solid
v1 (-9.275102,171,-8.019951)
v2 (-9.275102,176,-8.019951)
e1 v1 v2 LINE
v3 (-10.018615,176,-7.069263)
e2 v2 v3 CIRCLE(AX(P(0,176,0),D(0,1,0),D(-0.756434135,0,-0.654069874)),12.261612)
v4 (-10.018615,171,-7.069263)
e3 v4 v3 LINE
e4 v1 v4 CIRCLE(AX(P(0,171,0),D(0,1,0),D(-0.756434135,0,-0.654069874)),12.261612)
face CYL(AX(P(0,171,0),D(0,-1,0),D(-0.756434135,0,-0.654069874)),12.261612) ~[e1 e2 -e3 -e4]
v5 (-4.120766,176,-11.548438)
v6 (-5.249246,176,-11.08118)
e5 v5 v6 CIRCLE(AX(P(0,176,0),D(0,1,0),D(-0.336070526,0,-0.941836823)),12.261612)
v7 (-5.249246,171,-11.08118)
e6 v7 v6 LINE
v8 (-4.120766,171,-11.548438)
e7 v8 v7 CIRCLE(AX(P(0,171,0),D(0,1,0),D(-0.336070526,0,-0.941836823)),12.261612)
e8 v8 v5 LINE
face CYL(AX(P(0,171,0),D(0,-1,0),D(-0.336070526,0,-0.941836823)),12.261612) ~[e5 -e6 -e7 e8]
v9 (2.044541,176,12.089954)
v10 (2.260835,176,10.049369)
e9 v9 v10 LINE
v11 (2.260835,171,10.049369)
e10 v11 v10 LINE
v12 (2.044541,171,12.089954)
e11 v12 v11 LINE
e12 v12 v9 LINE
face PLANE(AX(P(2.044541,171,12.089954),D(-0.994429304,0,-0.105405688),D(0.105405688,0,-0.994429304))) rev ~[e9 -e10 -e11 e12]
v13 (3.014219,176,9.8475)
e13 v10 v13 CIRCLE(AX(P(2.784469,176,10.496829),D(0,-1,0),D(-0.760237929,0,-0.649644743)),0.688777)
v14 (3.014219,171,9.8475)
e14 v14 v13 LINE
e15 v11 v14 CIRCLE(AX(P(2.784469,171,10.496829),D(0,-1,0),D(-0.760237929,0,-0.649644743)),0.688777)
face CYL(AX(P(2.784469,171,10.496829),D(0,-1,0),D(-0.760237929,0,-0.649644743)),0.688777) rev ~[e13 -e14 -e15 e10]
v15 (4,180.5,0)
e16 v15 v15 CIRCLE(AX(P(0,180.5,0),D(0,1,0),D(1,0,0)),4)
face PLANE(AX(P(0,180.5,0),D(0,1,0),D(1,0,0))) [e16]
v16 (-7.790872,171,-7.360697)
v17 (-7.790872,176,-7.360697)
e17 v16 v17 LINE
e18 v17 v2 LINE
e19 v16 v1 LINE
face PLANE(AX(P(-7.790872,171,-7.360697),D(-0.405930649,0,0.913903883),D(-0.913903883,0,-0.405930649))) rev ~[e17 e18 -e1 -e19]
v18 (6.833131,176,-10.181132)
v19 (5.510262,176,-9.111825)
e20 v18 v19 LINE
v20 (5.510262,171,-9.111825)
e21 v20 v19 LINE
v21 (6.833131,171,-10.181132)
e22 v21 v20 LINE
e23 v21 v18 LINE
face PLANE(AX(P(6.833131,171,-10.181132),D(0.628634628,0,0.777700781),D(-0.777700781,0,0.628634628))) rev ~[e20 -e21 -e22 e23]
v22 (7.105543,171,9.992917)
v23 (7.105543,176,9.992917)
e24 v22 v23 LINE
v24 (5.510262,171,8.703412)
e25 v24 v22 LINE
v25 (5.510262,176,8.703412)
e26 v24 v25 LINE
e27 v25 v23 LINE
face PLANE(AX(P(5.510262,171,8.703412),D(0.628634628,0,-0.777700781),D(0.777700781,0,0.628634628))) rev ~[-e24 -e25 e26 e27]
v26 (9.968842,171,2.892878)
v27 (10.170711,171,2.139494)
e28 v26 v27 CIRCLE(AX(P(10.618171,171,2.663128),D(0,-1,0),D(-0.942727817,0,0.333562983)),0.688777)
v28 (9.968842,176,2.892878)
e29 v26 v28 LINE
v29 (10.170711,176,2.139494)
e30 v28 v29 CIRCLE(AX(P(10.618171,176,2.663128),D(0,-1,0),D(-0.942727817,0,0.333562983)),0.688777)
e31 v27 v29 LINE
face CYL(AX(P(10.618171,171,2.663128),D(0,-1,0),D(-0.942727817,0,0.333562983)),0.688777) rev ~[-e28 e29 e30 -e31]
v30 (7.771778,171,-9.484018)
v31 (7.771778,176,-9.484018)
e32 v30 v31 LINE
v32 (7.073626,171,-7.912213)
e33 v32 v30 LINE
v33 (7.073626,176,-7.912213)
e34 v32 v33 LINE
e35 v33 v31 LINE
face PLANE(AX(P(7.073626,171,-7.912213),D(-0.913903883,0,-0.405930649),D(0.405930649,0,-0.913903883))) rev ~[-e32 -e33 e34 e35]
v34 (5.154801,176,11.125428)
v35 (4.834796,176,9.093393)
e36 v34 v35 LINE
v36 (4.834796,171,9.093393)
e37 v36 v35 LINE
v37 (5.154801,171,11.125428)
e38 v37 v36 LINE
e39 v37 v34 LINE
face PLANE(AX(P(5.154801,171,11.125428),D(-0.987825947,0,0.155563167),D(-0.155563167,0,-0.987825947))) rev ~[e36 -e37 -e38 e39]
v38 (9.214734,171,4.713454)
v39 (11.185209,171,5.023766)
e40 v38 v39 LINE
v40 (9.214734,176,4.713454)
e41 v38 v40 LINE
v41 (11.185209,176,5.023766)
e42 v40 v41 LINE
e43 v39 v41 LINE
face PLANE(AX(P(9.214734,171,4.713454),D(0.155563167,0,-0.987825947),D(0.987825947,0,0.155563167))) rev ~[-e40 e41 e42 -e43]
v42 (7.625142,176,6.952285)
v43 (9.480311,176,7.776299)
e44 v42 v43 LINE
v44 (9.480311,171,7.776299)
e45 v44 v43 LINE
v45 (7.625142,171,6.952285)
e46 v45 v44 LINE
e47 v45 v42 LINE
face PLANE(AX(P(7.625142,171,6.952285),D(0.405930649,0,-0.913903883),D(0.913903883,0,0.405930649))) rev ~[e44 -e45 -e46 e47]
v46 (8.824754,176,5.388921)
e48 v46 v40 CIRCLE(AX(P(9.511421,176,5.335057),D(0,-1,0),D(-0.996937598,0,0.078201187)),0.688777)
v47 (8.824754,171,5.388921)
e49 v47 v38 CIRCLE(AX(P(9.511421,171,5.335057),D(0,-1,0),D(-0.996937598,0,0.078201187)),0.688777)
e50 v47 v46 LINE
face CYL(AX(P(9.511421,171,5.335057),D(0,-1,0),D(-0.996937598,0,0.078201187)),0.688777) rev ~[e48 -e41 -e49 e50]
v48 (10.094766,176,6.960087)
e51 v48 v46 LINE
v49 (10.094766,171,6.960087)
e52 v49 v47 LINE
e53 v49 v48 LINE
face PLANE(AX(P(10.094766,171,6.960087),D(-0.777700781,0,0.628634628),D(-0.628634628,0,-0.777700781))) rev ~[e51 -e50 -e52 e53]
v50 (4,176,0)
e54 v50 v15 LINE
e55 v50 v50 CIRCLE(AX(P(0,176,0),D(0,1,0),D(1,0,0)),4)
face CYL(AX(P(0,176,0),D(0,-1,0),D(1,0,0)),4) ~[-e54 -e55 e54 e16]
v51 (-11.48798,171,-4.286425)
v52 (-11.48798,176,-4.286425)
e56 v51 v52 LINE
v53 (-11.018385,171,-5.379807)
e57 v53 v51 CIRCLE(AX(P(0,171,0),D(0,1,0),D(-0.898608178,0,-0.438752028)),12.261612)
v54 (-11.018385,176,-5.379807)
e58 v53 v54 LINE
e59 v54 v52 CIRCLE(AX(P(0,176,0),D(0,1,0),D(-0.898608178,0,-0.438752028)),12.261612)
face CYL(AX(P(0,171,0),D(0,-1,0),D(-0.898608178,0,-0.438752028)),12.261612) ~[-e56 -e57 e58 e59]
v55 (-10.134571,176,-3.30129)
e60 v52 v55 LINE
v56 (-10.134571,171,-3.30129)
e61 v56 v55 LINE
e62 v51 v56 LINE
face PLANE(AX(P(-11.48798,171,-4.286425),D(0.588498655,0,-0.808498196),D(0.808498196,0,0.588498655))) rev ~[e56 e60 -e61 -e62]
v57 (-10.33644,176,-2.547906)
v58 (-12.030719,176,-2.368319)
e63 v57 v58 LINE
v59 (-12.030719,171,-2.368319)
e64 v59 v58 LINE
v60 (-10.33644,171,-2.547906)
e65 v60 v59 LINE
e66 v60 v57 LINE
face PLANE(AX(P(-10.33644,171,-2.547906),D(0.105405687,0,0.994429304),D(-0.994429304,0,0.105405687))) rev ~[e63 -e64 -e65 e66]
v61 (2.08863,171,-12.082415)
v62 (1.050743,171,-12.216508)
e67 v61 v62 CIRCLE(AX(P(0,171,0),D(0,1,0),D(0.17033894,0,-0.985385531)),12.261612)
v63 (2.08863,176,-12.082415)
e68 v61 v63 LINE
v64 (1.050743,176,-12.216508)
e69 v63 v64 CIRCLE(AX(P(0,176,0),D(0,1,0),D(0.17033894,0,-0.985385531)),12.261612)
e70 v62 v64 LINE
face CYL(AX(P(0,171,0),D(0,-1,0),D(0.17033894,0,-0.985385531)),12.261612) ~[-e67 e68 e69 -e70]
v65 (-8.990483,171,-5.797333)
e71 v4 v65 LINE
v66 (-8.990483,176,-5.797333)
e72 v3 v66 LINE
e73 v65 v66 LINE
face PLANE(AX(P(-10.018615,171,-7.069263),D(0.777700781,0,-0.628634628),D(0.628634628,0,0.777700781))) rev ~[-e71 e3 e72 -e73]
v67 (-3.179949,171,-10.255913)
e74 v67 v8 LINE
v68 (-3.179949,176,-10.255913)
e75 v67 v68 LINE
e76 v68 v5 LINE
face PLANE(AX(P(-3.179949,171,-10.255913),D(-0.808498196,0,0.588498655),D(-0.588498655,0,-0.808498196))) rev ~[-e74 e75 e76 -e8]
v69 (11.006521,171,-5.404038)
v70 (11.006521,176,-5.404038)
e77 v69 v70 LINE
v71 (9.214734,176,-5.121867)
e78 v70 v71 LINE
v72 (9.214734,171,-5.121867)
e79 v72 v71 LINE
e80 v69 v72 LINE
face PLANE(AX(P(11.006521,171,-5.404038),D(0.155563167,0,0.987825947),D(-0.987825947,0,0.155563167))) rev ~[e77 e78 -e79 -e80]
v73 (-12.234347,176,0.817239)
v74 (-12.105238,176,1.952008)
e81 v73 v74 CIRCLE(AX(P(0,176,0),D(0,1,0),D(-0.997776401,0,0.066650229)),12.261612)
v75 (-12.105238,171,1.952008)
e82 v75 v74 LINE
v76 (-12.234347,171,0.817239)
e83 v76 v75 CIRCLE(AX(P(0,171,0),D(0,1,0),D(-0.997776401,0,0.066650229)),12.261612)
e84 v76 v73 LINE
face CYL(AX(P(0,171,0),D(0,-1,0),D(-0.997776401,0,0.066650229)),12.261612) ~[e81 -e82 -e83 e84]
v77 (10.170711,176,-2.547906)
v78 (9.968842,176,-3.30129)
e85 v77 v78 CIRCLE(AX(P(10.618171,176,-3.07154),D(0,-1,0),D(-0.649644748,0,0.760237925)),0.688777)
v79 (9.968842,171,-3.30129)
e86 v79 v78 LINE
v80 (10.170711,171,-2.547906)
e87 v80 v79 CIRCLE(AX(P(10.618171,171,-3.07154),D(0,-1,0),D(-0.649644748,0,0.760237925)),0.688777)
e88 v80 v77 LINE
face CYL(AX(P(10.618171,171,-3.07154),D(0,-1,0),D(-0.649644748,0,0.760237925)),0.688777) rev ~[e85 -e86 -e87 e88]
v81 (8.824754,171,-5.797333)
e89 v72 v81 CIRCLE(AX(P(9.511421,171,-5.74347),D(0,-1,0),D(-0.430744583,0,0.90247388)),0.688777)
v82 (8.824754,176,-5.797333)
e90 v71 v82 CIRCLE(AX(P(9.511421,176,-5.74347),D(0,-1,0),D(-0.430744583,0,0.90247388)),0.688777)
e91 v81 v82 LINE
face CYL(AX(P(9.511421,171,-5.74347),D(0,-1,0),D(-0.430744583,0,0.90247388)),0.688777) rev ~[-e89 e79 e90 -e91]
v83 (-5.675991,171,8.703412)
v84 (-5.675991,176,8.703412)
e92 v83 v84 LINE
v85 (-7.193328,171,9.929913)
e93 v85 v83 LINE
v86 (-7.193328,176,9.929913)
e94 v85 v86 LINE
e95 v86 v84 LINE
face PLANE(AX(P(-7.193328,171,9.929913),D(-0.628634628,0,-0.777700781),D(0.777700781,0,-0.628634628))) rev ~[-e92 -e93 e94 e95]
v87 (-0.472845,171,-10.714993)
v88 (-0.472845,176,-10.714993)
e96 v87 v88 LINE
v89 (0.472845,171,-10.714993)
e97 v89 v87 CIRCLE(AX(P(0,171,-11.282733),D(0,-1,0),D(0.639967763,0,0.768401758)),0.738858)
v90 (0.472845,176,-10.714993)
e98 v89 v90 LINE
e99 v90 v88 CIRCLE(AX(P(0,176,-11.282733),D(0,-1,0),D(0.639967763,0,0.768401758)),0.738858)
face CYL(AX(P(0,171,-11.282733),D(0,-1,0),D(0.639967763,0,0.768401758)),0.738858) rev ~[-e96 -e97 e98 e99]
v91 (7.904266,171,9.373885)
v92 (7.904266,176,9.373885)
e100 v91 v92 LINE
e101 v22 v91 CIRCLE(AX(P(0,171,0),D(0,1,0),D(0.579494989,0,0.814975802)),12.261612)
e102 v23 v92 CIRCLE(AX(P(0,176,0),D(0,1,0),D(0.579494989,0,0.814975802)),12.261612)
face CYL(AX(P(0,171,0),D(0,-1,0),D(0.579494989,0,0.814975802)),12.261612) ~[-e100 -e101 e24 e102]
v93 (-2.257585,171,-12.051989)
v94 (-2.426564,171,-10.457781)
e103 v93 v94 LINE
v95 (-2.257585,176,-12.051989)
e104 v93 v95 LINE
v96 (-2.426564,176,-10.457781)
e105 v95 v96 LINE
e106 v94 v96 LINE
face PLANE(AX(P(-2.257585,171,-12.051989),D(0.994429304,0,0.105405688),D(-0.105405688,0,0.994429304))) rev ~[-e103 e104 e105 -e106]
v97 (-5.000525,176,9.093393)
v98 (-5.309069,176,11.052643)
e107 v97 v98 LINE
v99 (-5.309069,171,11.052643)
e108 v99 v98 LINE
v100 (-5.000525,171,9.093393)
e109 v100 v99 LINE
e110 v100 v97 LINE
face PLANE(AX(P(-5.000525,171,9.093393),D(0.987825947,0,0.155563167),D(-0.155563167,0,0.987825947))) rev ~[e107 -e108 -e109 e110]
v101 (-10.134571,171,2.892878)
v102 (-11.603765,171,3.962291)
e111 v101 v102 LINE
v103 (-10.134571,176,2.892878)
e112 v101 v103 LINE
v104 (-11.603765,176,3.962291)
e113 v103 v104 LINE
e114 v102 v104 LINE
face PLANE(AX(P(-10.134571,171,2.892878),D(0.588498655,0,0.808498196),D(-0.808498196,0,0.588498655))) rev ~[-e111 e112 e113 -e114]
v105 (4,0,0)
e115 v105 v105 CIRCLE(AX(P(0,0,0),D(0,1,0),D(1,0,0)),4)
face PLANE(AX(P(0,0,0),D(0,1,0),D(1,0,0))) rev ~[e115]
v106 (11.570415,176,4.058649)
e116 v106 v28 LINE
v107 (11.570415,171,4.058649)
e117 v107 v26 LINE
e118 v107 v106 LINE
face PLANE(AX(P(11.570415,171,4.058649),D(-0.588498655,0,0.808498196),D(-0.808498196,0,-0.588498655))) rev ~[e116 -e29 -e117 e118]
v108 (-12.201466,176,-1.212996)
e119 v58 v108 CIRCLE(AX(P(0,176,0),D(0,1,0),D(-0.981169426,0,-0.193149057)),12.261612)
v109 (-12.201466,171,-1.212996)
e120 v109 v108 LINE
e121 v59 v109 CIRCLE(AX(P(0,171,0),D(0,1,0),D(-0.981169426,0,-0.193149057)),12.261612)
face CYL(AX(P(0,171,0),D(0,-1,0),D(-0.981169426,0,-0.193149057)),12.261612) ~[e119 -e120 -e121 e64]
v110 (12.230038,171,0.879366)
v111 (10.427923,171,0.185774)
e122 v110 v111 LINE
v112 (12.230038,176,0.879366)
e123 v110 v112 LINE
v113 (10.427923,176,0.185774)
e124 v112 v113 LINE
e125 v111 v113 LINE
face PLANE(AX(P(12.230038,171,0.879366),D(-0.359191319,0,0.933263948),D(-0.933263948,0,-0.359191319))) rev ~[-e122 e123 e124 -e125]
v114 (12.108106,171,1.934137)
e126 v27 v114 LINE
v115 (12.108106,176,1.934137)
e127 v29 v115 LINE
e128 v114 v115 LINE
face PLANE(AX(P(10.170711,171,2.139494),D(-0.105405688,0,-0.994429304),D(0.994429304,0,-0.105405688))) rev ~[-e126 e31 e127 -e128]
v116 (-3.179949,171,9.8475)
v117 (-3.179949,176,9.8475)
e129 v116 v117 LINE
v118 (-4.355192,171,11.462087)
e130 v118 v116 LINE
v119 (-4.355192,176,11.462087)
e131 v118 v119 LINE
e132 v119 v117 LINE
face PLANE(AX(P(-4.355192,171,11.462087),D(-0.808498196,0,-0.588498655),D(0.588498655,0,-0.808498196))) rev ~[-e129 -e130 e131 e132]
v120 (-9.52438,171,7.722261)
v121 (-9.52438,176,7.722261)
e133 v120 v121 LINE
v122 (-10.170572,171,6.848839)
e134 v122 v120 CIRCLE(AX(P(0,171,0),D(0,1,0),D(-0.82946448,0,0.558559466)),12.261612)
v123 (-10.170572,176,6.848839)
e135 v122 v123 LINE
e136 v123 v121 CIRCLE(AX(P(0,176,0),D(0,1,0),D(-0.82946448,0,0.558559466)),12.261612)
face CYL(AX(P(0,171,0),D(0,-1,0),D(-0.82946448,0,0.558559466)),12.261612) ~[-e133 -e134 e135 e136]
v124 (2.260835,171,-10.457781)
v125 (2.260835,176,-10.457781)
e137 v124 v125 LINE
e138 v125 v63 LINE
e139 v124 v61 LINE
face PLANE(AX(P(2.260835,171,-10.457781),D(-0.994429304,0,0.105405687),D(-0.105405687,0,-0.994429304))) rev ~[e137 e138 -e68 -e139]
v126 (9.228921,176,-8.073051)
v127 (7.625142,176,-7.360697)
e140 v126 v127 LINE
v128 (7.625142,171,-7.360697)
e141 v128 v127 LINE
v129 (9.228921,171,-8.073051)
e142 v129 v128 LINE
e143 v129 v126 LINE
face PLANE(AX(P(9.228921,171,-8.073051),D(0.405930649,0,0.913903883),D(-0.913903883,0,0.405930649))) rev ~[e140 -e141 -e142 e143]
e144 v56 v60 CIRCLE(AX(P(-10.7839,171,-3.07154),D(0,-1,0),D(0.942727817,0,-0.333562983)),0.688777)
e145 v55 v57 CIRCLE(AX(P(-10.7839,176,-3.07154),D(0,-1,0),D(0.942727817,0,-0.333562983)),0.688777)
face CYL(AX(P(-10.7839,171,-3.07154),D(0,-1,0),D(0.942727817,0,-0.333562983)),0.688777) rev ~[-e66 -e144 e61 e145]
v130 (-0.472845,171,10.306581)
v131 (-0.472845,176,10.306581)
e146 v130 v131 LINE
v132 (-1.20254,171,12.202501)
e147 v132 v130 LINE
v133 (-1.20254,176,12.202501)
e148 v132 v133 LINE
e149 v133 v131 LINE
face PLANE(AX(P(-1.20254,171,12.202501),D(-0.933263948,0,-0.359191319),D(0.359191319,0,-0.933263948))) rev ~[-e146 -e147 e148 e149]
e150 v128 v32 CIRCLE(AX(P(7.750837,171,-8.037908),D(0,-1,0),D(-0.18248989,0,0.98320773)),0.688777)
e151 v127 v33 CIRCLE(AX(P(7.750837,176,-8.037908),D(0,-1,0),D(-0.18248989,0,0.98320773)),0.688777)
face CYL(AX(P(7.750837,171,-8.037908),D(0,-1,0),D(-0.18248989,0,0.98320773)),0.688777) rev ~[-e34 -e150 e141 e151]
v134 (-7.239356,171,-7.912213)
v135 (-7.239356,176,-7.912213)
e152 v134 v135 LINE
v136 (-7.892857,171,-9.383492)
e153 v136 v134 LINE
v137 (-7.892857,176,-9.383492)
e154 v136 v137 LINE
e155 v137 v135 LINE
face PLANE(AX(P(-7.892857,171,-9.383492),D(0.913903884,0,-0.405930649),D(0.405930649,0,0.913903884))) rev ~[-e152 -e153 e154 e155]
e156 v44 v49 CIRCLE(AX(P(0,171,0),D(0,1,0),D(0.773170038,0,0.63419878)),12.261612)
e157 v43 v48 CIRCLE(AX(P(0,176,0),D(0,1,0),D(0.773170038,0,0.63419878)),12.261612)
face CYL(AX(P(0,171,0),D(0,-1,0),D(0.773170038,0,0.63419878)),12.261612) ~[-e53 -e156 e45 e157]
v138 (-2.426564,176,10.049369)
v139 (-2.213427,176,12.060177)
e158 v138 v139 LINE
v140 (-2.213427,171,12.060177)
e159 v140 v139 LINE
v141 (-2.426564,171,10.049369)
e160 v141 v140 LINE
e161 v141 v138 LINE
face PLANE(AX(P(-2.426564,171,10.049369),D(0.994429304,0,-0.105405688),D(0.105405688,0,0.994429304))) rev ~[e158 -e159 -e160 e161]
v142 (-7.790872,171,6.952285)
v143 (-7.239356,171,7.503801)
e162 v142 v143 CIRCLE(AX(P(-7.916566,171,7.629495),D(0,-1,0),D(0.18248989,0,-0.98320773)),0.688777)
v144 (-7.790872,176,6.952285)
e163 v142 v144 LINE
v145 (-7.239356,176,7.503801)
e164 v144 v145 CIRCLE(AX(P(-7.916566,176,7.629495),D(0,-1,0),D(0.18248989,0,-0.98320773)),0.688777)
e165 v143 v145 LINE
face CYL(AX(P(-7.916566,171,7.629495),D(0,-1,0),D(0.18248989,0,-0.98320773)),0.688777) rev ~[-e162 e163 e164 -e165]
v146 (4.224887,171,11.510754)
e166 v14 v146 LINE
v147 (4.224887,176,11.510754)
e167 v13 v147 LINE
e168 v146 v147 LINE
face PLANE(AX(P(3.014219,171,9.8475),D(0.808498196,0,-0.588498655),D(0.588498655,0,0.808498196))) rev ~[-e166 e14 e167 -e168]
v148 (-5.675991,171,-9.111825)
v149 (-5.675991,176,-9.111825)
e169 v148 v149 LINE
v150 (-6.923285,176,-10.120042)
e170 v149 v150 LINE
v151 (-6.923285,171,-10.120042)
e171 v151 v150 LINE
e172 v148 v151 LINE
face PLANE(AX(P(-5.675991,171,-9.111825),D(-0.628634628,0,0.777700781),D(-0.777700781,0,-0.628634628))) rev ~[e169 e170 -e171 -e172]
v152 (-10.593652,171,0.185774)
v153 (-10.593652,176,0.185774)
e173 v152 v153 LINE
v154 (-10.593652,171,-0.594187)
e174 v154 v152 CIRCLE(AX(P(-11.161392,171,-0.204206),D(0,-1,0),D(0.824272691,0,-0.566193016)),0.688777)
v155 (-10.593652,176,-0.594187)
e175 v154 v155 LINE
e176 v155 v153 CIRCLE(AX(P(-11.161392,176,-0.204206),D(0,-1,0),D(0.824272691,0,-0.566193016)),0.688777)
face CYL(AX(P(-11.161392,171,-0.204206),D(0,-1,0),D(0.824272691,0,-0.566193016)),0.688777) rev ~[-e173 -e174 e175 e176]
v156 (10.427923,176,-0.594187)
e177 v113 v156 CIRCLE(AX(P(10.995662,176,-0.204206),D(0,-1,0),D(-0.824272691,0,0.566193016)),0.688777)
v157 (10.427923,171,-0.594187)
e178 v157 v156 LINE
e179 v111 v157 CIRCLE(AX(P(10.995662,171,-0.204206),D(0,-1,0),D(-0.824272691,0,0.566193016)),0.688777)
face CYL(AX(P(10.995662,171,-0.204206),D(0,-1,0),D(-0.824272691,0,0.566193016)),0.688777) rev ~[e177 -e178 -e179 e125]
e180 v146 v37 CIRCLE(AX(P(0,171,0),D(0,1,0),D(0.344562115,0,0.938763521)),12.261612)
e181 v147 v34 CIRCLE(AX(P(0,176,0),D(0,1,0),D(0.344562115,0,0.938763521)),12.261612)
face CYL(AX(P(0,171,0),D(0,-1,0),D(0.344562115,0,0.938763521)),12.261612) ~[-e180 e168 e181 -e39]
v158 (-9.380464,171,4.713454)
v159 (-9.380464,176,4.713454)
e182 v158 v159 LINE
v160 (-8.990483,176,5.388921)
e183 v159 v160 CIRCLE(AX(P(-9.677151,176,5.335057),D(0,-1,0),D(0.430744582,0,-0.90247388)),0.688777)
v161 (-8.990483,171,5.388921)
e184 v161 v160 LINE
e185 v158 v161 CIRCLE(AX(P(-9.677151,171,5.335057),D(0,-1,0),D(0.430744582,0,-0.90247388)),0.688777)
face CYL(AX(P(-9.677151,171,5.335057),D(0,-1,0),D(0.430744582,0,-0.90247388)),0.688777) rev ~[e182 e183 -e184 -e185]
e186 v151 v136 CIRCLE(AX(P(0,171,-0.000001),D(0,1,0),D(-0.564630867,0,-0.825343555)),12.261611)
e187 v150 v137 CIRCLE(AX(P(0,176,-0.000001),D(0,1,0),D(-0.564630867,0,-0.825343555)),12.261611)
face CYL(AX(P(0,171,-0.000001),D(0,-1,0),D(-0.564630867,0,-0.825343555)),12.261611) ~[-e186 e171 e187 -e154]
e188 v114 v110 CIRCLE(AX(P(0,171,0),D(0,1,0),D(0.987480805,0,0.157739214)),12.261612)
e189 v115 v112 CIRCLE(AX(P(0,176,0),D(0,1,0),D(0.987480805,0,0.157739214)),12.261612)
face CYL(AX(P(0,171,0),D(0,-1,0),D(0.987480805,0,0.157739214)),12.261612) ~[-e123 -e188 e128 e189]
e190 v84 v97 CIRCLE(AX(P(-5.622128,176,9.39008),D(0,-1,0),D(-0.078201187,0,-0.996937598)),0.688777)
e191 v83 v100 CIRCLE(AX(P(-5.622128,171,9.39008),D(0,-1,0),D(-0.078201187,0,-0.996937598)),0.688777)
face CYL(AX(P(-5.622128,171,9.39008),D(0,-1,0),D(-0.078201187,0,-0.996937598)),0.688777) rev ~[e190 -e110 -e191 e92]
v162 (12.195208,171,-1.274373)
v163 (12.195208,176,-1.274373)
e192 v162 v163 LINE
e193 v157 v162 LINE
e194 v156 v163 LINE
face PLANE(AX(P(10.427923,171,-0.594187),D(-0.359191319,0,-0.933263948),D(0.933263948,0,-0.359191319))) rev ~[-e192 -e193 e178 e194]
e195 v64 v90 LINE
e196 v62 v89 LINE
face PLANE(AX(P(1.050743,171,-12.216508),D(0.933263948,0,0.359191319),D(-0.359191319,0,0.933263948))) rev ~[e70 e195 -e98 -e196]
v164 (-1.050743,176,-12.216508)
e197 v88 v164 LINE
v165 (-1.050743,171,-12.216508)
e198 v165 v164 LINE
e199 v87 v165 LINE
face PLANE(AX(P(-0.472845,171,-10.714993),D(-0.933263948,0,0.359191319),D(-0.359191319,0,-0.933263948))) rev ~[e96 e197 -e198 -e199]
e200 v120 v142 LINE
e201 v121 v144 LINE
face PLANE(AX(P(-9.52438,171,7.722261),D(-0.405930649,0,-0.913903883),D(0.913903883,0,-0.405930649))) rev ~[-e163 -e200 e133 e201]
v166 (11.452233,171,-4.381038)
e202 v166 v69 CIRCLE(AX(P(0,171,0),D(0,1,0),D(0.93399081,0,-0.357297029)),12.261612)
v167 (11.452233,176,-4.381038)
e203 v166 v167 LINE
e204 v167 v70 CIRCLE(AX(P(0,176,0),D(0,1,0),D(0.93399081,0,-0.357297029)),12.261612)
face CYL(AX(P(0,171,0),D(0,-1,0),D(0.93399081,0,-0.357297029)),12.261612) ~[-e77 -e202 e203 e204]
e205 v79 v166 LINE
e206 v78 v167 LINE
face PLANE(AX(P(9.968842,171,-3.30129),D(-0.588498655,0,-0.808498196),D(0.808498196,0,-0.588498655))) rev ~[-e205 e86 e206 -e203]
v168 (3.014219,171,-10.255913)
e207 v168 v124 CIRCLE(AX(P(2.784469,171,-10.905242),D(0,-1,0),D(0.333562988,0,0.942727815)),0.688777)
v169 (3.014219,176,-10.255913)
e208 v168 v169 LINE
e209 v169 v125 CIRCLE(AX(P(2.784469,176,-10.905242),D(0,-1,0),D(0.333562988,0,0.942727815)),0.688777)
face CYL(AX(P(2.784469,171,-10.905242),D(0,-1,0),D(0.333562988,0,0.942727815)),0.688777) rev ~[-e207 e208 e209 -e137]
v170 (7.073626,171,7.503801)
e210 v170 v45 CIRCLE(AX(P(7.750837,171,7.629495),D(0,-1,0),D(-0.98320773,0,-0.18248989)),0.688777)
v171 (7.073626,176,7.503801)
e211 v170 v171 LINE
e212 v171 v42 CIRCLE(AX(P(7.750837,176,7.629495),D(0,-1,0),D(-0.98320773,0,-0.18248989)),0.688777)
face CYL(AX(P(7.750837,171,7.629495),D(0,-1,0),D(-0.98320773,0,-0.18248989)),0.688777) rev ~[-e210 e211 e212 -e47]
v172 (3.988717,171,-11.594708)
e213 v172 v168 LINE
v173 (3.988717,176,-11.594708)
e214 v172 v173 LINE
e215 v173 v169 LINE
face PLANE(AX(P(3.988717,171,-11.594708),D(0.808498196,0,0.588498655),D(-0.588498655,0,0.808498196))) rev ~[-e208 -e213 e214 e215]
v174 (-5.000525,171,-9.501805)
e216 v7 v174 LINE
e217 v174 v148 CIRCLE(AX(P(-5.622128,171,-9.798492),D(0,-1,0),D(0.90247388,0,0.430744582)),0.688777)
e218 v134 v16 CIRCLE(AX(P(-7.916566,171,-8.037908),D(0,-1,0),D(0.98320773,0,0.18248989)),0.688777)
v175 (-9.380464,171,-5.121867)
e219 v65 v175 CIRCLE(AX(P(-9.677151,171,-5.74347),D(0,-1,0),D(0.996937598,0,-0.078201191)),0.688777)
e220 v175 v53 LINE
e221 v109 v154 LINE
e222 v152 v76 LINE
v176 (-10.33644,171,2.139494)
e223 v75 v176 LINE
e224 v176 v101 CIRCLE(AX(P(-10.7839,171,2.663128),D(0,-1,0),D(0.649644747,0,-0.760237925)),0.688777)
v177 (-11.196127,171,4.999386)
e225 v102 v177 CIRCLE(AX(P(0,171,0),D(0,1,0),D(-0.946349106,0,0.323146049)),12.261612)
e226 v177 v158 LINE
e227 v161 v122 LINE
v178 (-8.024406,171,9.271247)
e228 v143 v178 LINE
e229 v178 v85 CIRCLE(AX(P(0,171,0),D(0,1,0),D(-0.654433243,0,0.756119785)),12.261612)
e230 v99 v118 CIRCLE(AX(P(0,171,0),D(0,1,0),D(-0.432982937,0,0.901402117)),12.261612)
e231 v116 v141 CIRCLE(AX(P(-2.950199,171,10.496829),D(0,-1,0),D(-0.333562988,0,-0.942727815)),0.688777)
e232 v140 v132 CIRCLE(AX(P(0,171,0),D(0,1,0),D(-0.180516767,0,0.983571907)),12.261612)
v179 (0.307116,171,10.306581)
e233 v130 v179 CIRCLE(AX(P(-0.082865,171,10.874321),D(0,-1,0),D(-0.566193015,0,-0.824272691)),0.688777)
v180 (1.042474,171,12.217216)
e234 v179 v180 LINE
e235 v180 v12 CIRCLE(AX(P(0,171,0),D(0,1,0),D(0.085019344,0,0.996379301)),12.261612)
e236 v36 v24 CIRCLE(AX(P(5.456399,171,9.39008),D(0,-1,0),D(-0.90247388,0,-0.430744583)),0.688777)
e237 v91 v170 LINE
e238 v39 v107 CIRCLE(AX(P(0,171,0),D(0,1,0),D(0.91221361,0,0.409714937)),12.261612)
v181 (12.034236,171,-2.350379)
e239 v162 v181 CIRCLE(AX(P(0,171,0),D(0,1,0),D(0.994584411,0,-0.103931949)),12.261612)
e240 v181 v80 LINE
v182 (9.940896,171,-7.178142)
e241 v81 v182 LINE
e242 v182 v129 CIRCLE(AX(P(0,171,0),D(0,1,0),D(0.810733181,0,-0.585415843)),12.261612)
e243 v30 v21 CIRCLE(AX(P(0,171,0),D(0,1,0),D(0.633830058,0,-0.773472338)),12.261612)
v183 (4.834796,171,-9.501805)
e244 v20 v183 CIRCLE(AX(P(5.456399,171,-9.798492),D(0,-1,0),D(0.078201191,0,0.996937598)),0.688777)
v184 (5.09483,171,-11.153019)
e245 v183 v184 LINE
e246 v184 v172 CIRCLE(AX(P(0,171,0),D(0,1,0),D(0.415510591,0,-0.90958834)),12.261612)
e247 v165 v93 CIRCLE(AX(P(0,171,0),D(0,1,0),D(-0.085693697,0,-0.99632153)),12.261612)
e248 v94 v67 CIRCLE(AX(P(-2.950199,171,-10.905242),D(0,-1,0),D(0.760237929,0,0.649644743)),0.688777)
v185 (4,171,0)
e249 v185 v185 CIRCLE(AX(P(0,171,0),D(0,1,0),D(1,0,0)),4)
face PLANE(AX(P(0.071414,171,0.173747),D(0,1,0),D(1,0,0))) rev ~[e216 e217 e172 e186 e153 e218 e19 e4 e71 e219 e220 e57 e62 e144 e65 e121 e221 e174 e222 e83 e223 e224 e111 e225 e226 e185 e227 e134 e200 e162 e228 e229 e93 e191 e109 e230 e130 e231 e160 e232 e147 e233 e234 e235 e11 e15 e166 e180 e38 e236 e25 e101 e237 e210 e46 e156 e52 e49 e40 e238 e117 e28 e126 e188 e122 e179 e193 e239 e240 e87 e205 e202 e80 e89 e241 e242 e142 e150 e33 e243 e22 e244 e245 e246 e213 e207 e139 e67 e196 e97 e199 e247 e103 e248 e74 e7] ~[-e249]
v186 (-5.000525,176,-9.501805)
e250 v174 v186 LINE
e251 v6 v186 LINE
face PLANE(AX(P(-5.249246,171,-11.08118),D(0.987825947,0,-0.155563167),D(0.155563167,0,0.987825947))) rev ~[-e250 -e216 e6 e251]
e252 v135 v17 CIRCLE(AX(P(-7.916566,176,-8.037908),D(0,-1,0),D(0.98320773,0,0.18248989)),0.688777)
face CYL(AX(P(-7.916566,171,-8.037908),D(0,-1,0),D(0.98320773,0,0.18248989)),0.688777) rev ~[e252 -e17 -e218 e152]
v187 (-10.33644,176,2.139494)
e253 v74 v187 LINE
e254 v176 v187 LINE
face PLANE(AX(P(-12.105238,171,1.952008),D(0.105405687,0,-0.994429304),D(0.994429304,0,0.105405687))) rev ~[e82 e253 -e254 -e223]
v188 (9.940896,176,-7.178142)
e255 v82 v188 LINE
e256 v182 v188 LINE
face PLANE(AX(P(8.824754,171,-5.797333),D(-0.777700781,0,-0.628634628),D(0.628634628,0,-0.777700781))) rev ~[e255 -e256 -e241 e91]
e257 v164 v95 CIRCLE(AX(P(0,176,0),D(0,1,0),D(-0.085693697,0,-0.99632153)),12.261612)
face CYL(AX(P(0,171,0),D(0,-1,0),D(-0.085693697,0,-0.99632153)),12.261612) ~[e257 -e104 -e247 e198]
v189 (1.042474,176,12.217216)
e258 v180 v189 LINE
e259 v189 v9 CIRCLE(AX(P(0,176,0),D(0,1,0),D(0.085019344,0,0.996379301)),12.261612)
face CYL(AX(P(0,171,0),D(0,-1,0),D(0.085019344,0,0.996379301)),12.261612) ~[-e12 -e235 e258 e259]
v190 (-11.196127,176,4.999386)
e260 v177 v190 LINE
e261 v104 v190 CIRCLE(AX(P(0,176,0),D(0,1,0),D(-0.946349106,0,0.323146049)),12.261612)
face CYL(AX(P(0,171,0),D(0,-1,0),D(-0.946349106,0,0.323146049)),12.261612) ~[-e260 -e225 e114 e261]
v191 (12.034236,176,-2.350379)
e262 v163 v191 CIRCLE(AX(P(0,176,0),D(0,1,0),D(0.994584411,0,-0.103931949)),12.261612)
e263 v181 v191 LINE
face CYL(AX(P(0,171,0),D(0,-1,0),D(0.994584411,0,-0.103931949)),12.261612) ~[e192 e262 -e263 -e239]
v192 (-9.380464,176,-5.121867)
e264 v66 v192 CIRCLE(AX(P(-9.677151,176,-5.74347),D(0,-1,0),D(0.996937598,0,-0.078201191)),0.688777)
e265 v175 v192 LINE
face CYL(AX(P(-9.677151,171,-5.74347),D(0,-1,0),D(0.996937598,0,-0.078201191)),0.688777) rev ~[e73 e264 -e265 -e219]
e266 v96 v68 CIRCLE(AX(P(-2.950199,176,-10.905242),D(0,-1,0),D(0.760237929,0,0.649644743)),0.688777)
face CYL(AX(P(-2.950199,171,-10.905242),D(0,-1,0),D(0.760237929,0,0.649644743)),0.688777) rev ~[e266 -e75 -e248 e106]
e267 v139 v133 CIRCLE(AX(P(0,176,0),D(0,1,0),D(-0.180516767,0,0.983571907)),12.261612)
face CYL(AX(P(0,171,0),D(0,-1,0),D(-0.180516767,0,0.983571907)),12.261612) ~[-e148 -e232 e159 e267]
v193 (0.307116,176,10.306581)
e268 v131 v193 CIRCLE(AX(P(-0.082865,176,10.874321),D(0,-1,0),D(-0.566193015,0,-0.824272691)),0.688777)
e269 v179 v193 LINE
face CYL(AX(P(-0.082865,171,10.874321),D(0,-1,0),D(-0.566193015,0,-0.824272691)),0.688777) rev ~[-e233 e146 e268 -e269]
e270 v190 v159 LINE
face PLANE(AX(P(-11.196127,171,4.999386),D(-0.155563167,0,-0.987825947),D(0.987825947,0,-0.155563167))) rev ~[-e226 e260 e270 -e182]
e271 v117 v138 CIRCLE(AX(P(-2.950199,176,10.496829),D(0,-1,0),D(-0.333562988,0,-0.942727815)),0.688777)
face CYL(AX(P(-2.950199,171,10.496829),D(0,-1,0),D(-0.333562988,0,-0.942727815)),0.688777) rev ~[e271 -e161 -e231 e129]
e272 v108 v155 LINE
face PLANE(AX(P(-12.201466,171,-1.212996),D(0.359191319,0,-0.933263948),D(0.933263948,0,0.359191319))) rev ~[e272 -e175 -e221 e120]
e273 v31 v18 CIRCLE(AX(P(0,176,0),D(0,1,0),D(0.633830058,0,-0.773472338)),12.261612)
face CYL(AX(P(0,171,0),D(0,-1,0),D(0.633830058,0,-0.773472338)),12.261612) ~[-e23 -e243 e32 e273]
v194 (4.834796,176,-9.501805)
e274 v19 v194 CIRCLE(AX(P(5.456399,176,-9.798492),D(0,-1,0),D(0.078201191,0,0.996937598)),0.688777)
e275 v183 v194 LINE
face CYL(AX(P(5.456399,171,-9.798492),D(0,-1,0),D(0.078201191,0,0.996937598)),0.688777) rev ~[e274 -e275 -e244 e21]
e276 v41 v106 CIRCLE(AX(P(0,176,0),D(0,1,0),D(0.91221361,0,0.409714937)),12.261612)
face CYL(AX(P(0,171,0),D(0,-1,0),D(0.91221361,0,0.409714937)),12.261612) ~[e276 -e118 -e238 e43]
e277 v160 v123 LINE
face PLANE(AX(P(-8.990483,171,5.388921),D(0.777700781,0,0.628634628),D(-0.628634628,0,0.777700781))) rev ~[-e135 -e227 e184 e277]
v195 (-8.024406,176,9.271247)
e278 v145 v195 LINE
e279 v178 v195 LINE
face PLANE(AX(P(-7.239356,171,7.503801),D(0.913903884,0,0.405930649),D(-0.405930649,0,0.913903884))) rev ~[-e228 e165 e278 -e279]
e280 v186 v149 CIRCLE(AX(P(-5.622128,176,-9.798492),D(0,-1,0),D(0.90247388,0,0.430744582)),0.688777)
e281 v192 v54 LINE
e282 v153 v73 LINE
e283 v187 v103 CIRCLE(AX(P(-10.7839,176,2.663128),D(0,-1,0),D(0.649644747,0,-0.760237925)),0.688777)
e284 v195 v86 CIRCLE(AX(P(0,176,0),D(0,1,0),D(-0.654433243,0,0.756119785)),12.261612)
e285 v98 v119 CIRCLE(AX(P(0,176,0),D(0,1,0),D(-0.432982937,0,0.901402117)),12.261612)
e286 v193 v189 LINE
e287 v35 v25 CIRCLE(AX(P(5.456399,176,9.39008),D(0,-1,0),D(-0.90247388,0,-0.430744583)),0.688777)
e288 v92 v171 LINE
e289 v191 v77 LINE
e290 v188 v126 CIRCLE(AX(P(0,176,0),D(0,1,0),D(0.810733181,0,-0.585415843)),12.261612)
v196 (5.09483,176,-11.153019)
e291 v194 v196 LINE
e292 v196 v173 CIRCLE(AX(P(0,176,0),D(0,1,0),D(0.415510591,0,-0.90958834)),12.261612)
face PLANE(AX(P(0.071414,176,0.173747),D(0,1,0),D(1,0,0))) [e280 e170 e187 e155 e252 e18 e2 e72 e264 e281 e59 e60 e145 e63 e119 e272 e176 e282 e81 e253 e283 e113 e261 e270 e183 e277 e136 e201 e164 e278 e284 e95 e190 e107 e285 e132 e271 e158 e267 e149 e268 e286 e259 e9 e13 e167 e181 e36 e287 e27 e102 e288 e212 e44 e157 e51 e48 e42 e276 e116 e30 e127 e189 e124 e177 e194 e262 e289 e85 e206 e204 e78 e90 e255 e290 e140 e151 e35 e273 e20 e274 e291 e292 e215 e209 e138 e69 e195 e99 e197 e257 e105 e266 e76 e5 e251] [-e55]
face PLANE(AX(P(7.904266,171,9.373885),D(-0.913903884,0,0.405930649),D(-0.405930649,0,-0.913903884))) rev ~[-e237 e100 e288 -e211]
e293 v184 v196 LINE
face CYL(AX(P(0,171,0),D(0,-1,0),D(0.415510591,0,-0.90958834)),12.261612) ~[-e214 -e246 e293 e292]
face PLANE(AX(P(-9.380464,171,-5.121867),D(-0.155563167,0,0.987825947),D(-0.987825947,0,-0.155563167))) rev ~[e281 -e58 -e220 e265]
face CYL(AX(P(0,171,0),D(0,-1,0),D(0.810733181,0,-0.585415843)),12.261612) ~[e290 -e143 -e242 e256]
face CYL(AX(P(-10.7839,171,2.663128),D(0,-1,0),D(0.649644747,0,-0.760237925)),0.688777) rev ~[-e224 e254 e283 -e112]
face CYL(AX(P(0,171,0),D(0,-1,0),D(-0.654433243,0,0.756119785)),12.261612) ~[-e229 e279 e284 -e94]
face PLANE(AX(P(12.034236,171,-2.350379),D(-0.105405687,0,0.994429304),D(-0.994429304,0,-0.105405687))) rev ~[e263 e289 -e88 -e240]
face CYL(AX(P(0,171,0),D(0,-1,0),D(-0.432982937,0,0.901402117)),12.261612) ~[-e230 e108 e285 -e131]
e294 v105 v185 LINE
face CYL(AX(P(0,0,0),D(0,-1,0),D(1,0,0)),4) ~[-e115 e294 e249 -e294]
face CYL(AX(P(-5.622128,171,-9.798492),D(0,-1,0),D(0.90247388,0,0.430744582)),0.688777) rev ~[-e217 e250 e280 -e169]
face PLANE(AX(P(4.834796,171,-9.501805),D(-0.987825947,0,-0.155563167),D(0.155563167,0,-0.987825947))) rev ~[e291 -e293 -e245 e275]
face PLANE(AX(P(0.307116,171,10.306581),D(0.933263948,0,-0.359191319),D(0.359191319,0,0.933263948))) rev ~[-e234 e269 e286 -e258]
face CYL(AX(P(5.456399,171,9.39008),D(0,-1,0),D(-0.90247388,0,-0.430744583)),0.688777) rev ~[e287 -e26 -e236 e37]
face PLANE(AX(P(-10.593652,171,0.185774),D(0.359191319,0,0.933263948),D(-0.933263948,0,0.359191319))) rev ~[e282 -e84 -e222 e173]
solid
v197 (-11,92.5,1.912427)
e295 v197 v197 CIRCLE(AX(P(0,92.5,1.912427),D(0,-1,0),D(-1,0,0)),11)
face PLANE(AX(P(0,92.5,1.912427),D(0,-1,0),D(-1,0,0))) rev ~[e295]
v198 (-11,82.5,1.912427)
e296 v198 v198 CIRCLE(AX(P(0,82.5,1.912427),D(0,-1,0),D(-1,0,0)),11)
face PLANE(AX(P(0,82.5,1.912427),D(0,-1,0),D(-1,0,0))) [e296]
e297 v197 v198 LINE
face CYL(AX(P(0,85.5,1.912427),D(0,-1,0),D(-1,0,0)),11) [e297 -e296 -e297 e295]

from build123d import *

# Parameters (mm, degrees)
CROQUIS1_R                   = 4
SALIENTE_EXTRUIR1_DEPTH      = 171
SALIENTE_EXTRUIR3_DEPTH      = 5
CROQUIS4_R                   = 4
SALIENTE_EXTRUIR4_DEPTH      = 4.5
CROQUIS5_R                   = 11
SALIENTE_EXTRUIR5_DEPTH      = 3
SALIENTE_EXTRUIR5_DEPTH_BACK = 7


with BuildPart() as part:
    # Croquis1 → Saliente-Extruir1 (new body)
    with BuildSketch(Plane(origin=(0, 0, 0), x_dir=(1, 0, 0), z_dir=(0, 1, 0))):
        Circle(CROQUIS1_R)
    extrude(amount=SALIENTE_EXTRUIR1_DEPTH)

    # Croquis3 → Saliente-Extruir3 (add)
    with BuildSketch(Plane(origin=(0, 171, 0), x_dir=(1, 0, 0), z_dir=(0, 1, 0))):
        with BuildLine():
            Line((1.050742858, 12.216507919), (0.472845286, 10.71499343))
            ThreePointArc((0.472845286, 10.71499343), (0, 10.543875222), (-0.472845286, 10.71499343))
            Line((-0.472845286, 10.71499343), (-1.050742858, 12.216507919))
            ThreePointArc((-1.050742858, 12.216507919), (-1.656207782, 12.14924286), (-2.257584572, 12.051988972))
            Line((-2.257584572, 12.051988972), (-2.426564451, 10.457781423))
            ThreePointArc((-2.426564451, 10.457781423), (-2.771930057, 10.239934406), (-3.179948954, 10.255912654))
            Line((-3.179948954, 10.255912654), (-4.120766374, 11.54843759))
            ThreePointArc((-4.120766374, 11.54843759), (-4.690827714, 11.328868507), (-5.249245828, 11.081179745))
            Line((-5.249245828, 11.081179745), (-5.000525386, 9.501805204))
            ThreePointArc((-5.000525386, 9.501805204), (-5.277739988, 9.201993948), (-5.675991453, 9.111824689))
            Line((-5.675991453, 9.111824689), (-6.923284582, 10.120042336))
            ThreePointArc((-6.923284582, 10.120042336), (-7.417219229, 9.763809974), (-7.892857245, 9.383492462))
            Line((-7.892857245, 9.383492462), (-7.239355878, 7.912212973))
            ThreePointArc((-7.239355878, 7.912212973), (-7.429527758, 7.55086912), (-7.790871612, 7.360697239))
            Line((-7.790871612, 7.360697239), (-9.275101788, 8.019950942))
            ThreePointArc((-9.275101788, 8.019950942), (-9.658562641, 7.553760256), (-10.018615343, 7.069262543))
            Line((-10.018615343, 7.069262543), (-8.990483327, 5.797332815))
            ThreePointArc((-8.990483327, 5.797332815), (-9.080652586, 5.39908135), (-9.380463842, 5.121866748))
            Line((-9.380463842, 5.121866748), (-11.018384727, 5.379807088))
            ThreePointArc((-11.018384727, 5.379807088), (-11.266454067, 4.838815873), (-11.487980236, 4.286424664))
            Line((-11.487980236, 4.286424664), (-10.134571292, 3.301290316))
            ThreePointArc((-10.134571292, 3.301290316), (-10.118593045, 2.893271419), (-10.336440061, 2.547905812))
            Line((-10.336440061, 2.547905812), (-12.0307187, 2.368318783))
            ThreePointArc((-12.0307187, 2.368318783), (-12.129855039, 1.792691558), (-12.201465745, 1.212996274))
            Line((-12.201465745, 1.212996274), (-10.593652069, 0.594186647))
            ThreePointArc((-10.593652069, 0.594186647), (-10.472615206, 0.204206132), (-10.593652069, -0.185774383))
            Line((-10.593652069, -0.185774383), (-12.234346993, -0.817239228))
            ThreePointArc((-12.234346993, -0.817239228), (-12.183011813, -1.386127504), (-12.105238209, -1.952007737))
            Line((-12.105238209, -1.952007737), (-10.336440061, -2.139493548))
            ThreePointArc((-10.336440061, -2.139493548), (-10.118593045, -2.484859155), (-10.134571292, -2.892878051))
            Line((-10.134571292, -2.892878051), (-11.603765461, -3.962291436))
            ThreePointArc((-11.603765461, -3.962291436), (-11.411733847, -4.485471759), (-11.196127365, -4.999385795))
            Line((-11.196127365, -4.999385795), (-9.380463842, -4.713454484))
            ThreePointArc((-9.380463842, -4.713454484), (-9.080652586, -4.990669086), (-8.990483327, -5.388920551))
            Line((-8.990483327, -5.388920551), (-10.170571543, -6.848839375))
            ThreePointArc((-10.170571543, -6.848839375), (-9.857154436, -7.29271093), (-9.524379813, -7.722261033))
            Line((-9.524379813, -7.722261033), (-7.790871612, -6.952284975))
            ThreePointArc((-7.790871612, -6.952284975), (-7.429527758, -7.142456856), (-7.239355878, -7.503800709))
            Line((-7.239355878, -7.503800709), (-8.024406446, -9.271247353))
            ThreePointArc((-8.024406446, -9.271247353), (-7.61599094, -9.60956858), (-7.193327687, -9.929912542))
            Line((-7.193327687, -9.929912542), (-5.675991453, -8.703412424))
            ThreePointArc((-5.675991453, -8.703412424), (-5.277739988, -8.793581684), (-5.000525386, -9.09339294))
            Line((-5.000525386, -9.09339294), (-5.309068741, -11.052642915))
            ThreePointArc((-5.309068741, -11.052642915), (-4.836465093, -11.26746341), (-4.355191926, -11.462086615))
            Line((-4.355191926, -11.462086615), (-3.179948954, -9.84750039))
            ThreePointArc((-3.179948954, -9.84750039), (-2.771930057, -9.831522142), (-2.426564451, -10.049369159))
            Line((-2.426564451, -10.049369159), (-2.213426541, -12.060176999))
            ThreePointArc((-2.213426541, -12.060176999), (-1.70946512, -12.141863749), (-1.202540078, -12.202500713))
            Line((-1.202540078, -12.202500713), (-0.472845286, -10.306581166))
            ThreePointArc((-0.472845286, -10.306581166), (-0.08286477, -10.185544303), (0.307115745, -10.306581166))
            Line((0.307115745, -10.306581166), (1.042474215, -12.217216287))
            ThreePointArc((1.042474215, -12.217216287), (1.544818551, -12.163908169), (2.04454079, -12.08995365))
            Line((2.04454079, -12.08995365), (2.26083491, -10.049369159))
            ThreePointArc((2.26083491, -10.049369159), (2.606200516, -9.831522142), (3.014219413, -9.84750039))
            Line((3.014219413, -9.84750039), (4.224886916, -11.510753965))
            ThreePointArc((4.224886916, -11.510753965), (4.693799885, -11.327637394), (5.154801423, -11.125428018))
            Line((5.154801423, -11.125428018), (4.834795845, -9.09339294))
            ThreePointArc((4.834795845, -9.09339294), (5.112010447, -8.793581684), (5.510261912, -8.703412424))
            Line((5.510261912, -8.703412424), (7.105542644, -9.992916993))
            ThreePointArc((7.105542644, -9.992916993), (7.511283882, -9.691632511), (7.90426552, -9.37388462))
            Line((7.90426552, -9.37388462), (7.073626337, -7.503800709))
            ThreePointArc((7.073626337, -7.503800709), (7.263798217, -7.142456856), (7.625142071, -6.952284975))
            Line((7.625142071, -6.952284975), (9.480310931, -7.776299309))
            ThreePointArc((9.480310931, -7.776299309), (9.796043302, -7.374595712), (10.094766478, -6.960087359))
            Line((10.094766478, -6.960087359), (8.824753786, -5.388920551))
            ThreePointArc((8.824753786, -5.388920551), (8.914923046, -4.990669086), (9.214734302, -4.713454484))
            Line((9.214734302, -4.713454484), (11.185209251, -5.023765551))
            ThreePointArc((11.185209251, -5.023765551), (11.388040568, -4.545289685), (11.570414703, -4.058648777))
            Line((11.570414703, -4.058648777), (9.968841751, -2.892878051))
            ThreePointArc((9.968841751, -2.892878051), (9.952863504, -2.484859155), (10.17071052, -2.139493548))
            Line((10.17071052, -2.139493548), (12.108106386, -1.934137026))
            ThreePointArc((12.108106386, -1.934137026), (12.180495026, -1.408072161), (12.230038474, -0.879366378))
            Line((12.230038474, -0.879366378), (10.427922528, -0.185774383))
            ThreePointArc((10.427922528, -0.185774383), (10.306885665, 0.204206132), (10.427922528, 0.594186647))
            Line((10.427922528, 0.594186647), (12.195208041, 1.274373229))
            ThreePointArc((12.195208041, 1.274373229), (12.12666239, 1.8141625), (12.034236318, 2.350379234))
            Line((12.034236318, 2.350379234), (10.17071052, 2.547905812))
            ThreePointArc((10.17071052, 2.547905812), (9.952863504, 2.893271419), (9.968841751, 3.301290316))
            Line((9.968841751, 3.301290316), (11.452232826, 4.381037502))
            ThreePointArc((11.452232826, 4.381037502), (11.241020253, 4.897610638), (11.006520824, 5.404037901))
            Line((11.006520824, 5.404037901), (9.214734302, 5.121866748))
            ThreePointArc((9.214734302, 5.121866748), (8.914923046, 5.39908135), (8.824753786, 5.797332815))
            Line((8.824753786, 5.797332815), (9.940895623, 7.178141856))
            ThreePointArc((9.940895623, 7.178141856), (9.595346713, 7.633901214), (9.228920544, 8.073050965))
            Line((9.228920544, 8.073050965), (7.625142071, 7.360697239))
            ThreePointArc((7.625142071, 7.360697239), (7.263798217, 7.55086912), (7.073626337, 7.912212973))
            Line((7.073626337, 7.912212973), (7.77177818, 9.48401762))
            ThreePointArc((7.77177818, 9.48401762), (7.310768329, 9.843769234), (6.83313078, 10.181132061))
            Line((6.83313078, 10.181132061), (5.510261912, 9.111824689))
            ThreePointArc((5.510261912, 9.111824689), (5.112010447, 9.201993948), (4.834795845, 9.501805204))
            Line((4.834795845, 9.501805204), (5.094829592, 11.15301922))
            ThreePointArc((5.094829592, 11.15301922), (4.547139411, 11.387302116), (3.988716959, 11.594708419))
            Line((3.988716959, 11.594708419), (3.014219413, 10.255912654))
            ThreePointArc((3.014219413, 10.255912654), (2.606200516, 10.239934406), (2.26083491, 10.457781423))
            Line((2.26083491, 10.457781423), (2.088629995, 12.082414951))
            ThreePointArc((2.088629995, 12.082414951), (1.571117662, 12.16053928), (1.050742858, 12.216507919))
        make_face()
    extrude(amount=SALIENTE_EXTRUIR3_DEPTH)

    # Croquis4 → Saliente-Extruir4 (add)
    with BuildSketch(Plane(origin=(0, 176, 0), x_dir=(1, 0, 0), z_dir=(0, 1, 0))):
        Circle(CROQUIS4_R)
    extrude(amount=SALIENTE_EXTRUIR4_DEPTH)


with BuildPart() as body_2:
    # Croquis5 → Saliente-Extruir5 (new body, two sides)
    with BuildSketch(Plane(origin=(0, 85.5, 0), x_dir=(-1, 0, 0), z_dir=(0, -1, 0))) as saliente_extruir5_sk:
        with Locations((0, -1.912427421)):
            Circle(CROQUIS5_R)
    extrude(amount=SALIENTE_EXTRUIR5_DEPTH)
    extrude(saliente_extruir5_sk.sketch, amount=-SALIENTE_EXTRUIR5_DEPTH_BACK)


solid = Compound([part.part, body_2.part])
